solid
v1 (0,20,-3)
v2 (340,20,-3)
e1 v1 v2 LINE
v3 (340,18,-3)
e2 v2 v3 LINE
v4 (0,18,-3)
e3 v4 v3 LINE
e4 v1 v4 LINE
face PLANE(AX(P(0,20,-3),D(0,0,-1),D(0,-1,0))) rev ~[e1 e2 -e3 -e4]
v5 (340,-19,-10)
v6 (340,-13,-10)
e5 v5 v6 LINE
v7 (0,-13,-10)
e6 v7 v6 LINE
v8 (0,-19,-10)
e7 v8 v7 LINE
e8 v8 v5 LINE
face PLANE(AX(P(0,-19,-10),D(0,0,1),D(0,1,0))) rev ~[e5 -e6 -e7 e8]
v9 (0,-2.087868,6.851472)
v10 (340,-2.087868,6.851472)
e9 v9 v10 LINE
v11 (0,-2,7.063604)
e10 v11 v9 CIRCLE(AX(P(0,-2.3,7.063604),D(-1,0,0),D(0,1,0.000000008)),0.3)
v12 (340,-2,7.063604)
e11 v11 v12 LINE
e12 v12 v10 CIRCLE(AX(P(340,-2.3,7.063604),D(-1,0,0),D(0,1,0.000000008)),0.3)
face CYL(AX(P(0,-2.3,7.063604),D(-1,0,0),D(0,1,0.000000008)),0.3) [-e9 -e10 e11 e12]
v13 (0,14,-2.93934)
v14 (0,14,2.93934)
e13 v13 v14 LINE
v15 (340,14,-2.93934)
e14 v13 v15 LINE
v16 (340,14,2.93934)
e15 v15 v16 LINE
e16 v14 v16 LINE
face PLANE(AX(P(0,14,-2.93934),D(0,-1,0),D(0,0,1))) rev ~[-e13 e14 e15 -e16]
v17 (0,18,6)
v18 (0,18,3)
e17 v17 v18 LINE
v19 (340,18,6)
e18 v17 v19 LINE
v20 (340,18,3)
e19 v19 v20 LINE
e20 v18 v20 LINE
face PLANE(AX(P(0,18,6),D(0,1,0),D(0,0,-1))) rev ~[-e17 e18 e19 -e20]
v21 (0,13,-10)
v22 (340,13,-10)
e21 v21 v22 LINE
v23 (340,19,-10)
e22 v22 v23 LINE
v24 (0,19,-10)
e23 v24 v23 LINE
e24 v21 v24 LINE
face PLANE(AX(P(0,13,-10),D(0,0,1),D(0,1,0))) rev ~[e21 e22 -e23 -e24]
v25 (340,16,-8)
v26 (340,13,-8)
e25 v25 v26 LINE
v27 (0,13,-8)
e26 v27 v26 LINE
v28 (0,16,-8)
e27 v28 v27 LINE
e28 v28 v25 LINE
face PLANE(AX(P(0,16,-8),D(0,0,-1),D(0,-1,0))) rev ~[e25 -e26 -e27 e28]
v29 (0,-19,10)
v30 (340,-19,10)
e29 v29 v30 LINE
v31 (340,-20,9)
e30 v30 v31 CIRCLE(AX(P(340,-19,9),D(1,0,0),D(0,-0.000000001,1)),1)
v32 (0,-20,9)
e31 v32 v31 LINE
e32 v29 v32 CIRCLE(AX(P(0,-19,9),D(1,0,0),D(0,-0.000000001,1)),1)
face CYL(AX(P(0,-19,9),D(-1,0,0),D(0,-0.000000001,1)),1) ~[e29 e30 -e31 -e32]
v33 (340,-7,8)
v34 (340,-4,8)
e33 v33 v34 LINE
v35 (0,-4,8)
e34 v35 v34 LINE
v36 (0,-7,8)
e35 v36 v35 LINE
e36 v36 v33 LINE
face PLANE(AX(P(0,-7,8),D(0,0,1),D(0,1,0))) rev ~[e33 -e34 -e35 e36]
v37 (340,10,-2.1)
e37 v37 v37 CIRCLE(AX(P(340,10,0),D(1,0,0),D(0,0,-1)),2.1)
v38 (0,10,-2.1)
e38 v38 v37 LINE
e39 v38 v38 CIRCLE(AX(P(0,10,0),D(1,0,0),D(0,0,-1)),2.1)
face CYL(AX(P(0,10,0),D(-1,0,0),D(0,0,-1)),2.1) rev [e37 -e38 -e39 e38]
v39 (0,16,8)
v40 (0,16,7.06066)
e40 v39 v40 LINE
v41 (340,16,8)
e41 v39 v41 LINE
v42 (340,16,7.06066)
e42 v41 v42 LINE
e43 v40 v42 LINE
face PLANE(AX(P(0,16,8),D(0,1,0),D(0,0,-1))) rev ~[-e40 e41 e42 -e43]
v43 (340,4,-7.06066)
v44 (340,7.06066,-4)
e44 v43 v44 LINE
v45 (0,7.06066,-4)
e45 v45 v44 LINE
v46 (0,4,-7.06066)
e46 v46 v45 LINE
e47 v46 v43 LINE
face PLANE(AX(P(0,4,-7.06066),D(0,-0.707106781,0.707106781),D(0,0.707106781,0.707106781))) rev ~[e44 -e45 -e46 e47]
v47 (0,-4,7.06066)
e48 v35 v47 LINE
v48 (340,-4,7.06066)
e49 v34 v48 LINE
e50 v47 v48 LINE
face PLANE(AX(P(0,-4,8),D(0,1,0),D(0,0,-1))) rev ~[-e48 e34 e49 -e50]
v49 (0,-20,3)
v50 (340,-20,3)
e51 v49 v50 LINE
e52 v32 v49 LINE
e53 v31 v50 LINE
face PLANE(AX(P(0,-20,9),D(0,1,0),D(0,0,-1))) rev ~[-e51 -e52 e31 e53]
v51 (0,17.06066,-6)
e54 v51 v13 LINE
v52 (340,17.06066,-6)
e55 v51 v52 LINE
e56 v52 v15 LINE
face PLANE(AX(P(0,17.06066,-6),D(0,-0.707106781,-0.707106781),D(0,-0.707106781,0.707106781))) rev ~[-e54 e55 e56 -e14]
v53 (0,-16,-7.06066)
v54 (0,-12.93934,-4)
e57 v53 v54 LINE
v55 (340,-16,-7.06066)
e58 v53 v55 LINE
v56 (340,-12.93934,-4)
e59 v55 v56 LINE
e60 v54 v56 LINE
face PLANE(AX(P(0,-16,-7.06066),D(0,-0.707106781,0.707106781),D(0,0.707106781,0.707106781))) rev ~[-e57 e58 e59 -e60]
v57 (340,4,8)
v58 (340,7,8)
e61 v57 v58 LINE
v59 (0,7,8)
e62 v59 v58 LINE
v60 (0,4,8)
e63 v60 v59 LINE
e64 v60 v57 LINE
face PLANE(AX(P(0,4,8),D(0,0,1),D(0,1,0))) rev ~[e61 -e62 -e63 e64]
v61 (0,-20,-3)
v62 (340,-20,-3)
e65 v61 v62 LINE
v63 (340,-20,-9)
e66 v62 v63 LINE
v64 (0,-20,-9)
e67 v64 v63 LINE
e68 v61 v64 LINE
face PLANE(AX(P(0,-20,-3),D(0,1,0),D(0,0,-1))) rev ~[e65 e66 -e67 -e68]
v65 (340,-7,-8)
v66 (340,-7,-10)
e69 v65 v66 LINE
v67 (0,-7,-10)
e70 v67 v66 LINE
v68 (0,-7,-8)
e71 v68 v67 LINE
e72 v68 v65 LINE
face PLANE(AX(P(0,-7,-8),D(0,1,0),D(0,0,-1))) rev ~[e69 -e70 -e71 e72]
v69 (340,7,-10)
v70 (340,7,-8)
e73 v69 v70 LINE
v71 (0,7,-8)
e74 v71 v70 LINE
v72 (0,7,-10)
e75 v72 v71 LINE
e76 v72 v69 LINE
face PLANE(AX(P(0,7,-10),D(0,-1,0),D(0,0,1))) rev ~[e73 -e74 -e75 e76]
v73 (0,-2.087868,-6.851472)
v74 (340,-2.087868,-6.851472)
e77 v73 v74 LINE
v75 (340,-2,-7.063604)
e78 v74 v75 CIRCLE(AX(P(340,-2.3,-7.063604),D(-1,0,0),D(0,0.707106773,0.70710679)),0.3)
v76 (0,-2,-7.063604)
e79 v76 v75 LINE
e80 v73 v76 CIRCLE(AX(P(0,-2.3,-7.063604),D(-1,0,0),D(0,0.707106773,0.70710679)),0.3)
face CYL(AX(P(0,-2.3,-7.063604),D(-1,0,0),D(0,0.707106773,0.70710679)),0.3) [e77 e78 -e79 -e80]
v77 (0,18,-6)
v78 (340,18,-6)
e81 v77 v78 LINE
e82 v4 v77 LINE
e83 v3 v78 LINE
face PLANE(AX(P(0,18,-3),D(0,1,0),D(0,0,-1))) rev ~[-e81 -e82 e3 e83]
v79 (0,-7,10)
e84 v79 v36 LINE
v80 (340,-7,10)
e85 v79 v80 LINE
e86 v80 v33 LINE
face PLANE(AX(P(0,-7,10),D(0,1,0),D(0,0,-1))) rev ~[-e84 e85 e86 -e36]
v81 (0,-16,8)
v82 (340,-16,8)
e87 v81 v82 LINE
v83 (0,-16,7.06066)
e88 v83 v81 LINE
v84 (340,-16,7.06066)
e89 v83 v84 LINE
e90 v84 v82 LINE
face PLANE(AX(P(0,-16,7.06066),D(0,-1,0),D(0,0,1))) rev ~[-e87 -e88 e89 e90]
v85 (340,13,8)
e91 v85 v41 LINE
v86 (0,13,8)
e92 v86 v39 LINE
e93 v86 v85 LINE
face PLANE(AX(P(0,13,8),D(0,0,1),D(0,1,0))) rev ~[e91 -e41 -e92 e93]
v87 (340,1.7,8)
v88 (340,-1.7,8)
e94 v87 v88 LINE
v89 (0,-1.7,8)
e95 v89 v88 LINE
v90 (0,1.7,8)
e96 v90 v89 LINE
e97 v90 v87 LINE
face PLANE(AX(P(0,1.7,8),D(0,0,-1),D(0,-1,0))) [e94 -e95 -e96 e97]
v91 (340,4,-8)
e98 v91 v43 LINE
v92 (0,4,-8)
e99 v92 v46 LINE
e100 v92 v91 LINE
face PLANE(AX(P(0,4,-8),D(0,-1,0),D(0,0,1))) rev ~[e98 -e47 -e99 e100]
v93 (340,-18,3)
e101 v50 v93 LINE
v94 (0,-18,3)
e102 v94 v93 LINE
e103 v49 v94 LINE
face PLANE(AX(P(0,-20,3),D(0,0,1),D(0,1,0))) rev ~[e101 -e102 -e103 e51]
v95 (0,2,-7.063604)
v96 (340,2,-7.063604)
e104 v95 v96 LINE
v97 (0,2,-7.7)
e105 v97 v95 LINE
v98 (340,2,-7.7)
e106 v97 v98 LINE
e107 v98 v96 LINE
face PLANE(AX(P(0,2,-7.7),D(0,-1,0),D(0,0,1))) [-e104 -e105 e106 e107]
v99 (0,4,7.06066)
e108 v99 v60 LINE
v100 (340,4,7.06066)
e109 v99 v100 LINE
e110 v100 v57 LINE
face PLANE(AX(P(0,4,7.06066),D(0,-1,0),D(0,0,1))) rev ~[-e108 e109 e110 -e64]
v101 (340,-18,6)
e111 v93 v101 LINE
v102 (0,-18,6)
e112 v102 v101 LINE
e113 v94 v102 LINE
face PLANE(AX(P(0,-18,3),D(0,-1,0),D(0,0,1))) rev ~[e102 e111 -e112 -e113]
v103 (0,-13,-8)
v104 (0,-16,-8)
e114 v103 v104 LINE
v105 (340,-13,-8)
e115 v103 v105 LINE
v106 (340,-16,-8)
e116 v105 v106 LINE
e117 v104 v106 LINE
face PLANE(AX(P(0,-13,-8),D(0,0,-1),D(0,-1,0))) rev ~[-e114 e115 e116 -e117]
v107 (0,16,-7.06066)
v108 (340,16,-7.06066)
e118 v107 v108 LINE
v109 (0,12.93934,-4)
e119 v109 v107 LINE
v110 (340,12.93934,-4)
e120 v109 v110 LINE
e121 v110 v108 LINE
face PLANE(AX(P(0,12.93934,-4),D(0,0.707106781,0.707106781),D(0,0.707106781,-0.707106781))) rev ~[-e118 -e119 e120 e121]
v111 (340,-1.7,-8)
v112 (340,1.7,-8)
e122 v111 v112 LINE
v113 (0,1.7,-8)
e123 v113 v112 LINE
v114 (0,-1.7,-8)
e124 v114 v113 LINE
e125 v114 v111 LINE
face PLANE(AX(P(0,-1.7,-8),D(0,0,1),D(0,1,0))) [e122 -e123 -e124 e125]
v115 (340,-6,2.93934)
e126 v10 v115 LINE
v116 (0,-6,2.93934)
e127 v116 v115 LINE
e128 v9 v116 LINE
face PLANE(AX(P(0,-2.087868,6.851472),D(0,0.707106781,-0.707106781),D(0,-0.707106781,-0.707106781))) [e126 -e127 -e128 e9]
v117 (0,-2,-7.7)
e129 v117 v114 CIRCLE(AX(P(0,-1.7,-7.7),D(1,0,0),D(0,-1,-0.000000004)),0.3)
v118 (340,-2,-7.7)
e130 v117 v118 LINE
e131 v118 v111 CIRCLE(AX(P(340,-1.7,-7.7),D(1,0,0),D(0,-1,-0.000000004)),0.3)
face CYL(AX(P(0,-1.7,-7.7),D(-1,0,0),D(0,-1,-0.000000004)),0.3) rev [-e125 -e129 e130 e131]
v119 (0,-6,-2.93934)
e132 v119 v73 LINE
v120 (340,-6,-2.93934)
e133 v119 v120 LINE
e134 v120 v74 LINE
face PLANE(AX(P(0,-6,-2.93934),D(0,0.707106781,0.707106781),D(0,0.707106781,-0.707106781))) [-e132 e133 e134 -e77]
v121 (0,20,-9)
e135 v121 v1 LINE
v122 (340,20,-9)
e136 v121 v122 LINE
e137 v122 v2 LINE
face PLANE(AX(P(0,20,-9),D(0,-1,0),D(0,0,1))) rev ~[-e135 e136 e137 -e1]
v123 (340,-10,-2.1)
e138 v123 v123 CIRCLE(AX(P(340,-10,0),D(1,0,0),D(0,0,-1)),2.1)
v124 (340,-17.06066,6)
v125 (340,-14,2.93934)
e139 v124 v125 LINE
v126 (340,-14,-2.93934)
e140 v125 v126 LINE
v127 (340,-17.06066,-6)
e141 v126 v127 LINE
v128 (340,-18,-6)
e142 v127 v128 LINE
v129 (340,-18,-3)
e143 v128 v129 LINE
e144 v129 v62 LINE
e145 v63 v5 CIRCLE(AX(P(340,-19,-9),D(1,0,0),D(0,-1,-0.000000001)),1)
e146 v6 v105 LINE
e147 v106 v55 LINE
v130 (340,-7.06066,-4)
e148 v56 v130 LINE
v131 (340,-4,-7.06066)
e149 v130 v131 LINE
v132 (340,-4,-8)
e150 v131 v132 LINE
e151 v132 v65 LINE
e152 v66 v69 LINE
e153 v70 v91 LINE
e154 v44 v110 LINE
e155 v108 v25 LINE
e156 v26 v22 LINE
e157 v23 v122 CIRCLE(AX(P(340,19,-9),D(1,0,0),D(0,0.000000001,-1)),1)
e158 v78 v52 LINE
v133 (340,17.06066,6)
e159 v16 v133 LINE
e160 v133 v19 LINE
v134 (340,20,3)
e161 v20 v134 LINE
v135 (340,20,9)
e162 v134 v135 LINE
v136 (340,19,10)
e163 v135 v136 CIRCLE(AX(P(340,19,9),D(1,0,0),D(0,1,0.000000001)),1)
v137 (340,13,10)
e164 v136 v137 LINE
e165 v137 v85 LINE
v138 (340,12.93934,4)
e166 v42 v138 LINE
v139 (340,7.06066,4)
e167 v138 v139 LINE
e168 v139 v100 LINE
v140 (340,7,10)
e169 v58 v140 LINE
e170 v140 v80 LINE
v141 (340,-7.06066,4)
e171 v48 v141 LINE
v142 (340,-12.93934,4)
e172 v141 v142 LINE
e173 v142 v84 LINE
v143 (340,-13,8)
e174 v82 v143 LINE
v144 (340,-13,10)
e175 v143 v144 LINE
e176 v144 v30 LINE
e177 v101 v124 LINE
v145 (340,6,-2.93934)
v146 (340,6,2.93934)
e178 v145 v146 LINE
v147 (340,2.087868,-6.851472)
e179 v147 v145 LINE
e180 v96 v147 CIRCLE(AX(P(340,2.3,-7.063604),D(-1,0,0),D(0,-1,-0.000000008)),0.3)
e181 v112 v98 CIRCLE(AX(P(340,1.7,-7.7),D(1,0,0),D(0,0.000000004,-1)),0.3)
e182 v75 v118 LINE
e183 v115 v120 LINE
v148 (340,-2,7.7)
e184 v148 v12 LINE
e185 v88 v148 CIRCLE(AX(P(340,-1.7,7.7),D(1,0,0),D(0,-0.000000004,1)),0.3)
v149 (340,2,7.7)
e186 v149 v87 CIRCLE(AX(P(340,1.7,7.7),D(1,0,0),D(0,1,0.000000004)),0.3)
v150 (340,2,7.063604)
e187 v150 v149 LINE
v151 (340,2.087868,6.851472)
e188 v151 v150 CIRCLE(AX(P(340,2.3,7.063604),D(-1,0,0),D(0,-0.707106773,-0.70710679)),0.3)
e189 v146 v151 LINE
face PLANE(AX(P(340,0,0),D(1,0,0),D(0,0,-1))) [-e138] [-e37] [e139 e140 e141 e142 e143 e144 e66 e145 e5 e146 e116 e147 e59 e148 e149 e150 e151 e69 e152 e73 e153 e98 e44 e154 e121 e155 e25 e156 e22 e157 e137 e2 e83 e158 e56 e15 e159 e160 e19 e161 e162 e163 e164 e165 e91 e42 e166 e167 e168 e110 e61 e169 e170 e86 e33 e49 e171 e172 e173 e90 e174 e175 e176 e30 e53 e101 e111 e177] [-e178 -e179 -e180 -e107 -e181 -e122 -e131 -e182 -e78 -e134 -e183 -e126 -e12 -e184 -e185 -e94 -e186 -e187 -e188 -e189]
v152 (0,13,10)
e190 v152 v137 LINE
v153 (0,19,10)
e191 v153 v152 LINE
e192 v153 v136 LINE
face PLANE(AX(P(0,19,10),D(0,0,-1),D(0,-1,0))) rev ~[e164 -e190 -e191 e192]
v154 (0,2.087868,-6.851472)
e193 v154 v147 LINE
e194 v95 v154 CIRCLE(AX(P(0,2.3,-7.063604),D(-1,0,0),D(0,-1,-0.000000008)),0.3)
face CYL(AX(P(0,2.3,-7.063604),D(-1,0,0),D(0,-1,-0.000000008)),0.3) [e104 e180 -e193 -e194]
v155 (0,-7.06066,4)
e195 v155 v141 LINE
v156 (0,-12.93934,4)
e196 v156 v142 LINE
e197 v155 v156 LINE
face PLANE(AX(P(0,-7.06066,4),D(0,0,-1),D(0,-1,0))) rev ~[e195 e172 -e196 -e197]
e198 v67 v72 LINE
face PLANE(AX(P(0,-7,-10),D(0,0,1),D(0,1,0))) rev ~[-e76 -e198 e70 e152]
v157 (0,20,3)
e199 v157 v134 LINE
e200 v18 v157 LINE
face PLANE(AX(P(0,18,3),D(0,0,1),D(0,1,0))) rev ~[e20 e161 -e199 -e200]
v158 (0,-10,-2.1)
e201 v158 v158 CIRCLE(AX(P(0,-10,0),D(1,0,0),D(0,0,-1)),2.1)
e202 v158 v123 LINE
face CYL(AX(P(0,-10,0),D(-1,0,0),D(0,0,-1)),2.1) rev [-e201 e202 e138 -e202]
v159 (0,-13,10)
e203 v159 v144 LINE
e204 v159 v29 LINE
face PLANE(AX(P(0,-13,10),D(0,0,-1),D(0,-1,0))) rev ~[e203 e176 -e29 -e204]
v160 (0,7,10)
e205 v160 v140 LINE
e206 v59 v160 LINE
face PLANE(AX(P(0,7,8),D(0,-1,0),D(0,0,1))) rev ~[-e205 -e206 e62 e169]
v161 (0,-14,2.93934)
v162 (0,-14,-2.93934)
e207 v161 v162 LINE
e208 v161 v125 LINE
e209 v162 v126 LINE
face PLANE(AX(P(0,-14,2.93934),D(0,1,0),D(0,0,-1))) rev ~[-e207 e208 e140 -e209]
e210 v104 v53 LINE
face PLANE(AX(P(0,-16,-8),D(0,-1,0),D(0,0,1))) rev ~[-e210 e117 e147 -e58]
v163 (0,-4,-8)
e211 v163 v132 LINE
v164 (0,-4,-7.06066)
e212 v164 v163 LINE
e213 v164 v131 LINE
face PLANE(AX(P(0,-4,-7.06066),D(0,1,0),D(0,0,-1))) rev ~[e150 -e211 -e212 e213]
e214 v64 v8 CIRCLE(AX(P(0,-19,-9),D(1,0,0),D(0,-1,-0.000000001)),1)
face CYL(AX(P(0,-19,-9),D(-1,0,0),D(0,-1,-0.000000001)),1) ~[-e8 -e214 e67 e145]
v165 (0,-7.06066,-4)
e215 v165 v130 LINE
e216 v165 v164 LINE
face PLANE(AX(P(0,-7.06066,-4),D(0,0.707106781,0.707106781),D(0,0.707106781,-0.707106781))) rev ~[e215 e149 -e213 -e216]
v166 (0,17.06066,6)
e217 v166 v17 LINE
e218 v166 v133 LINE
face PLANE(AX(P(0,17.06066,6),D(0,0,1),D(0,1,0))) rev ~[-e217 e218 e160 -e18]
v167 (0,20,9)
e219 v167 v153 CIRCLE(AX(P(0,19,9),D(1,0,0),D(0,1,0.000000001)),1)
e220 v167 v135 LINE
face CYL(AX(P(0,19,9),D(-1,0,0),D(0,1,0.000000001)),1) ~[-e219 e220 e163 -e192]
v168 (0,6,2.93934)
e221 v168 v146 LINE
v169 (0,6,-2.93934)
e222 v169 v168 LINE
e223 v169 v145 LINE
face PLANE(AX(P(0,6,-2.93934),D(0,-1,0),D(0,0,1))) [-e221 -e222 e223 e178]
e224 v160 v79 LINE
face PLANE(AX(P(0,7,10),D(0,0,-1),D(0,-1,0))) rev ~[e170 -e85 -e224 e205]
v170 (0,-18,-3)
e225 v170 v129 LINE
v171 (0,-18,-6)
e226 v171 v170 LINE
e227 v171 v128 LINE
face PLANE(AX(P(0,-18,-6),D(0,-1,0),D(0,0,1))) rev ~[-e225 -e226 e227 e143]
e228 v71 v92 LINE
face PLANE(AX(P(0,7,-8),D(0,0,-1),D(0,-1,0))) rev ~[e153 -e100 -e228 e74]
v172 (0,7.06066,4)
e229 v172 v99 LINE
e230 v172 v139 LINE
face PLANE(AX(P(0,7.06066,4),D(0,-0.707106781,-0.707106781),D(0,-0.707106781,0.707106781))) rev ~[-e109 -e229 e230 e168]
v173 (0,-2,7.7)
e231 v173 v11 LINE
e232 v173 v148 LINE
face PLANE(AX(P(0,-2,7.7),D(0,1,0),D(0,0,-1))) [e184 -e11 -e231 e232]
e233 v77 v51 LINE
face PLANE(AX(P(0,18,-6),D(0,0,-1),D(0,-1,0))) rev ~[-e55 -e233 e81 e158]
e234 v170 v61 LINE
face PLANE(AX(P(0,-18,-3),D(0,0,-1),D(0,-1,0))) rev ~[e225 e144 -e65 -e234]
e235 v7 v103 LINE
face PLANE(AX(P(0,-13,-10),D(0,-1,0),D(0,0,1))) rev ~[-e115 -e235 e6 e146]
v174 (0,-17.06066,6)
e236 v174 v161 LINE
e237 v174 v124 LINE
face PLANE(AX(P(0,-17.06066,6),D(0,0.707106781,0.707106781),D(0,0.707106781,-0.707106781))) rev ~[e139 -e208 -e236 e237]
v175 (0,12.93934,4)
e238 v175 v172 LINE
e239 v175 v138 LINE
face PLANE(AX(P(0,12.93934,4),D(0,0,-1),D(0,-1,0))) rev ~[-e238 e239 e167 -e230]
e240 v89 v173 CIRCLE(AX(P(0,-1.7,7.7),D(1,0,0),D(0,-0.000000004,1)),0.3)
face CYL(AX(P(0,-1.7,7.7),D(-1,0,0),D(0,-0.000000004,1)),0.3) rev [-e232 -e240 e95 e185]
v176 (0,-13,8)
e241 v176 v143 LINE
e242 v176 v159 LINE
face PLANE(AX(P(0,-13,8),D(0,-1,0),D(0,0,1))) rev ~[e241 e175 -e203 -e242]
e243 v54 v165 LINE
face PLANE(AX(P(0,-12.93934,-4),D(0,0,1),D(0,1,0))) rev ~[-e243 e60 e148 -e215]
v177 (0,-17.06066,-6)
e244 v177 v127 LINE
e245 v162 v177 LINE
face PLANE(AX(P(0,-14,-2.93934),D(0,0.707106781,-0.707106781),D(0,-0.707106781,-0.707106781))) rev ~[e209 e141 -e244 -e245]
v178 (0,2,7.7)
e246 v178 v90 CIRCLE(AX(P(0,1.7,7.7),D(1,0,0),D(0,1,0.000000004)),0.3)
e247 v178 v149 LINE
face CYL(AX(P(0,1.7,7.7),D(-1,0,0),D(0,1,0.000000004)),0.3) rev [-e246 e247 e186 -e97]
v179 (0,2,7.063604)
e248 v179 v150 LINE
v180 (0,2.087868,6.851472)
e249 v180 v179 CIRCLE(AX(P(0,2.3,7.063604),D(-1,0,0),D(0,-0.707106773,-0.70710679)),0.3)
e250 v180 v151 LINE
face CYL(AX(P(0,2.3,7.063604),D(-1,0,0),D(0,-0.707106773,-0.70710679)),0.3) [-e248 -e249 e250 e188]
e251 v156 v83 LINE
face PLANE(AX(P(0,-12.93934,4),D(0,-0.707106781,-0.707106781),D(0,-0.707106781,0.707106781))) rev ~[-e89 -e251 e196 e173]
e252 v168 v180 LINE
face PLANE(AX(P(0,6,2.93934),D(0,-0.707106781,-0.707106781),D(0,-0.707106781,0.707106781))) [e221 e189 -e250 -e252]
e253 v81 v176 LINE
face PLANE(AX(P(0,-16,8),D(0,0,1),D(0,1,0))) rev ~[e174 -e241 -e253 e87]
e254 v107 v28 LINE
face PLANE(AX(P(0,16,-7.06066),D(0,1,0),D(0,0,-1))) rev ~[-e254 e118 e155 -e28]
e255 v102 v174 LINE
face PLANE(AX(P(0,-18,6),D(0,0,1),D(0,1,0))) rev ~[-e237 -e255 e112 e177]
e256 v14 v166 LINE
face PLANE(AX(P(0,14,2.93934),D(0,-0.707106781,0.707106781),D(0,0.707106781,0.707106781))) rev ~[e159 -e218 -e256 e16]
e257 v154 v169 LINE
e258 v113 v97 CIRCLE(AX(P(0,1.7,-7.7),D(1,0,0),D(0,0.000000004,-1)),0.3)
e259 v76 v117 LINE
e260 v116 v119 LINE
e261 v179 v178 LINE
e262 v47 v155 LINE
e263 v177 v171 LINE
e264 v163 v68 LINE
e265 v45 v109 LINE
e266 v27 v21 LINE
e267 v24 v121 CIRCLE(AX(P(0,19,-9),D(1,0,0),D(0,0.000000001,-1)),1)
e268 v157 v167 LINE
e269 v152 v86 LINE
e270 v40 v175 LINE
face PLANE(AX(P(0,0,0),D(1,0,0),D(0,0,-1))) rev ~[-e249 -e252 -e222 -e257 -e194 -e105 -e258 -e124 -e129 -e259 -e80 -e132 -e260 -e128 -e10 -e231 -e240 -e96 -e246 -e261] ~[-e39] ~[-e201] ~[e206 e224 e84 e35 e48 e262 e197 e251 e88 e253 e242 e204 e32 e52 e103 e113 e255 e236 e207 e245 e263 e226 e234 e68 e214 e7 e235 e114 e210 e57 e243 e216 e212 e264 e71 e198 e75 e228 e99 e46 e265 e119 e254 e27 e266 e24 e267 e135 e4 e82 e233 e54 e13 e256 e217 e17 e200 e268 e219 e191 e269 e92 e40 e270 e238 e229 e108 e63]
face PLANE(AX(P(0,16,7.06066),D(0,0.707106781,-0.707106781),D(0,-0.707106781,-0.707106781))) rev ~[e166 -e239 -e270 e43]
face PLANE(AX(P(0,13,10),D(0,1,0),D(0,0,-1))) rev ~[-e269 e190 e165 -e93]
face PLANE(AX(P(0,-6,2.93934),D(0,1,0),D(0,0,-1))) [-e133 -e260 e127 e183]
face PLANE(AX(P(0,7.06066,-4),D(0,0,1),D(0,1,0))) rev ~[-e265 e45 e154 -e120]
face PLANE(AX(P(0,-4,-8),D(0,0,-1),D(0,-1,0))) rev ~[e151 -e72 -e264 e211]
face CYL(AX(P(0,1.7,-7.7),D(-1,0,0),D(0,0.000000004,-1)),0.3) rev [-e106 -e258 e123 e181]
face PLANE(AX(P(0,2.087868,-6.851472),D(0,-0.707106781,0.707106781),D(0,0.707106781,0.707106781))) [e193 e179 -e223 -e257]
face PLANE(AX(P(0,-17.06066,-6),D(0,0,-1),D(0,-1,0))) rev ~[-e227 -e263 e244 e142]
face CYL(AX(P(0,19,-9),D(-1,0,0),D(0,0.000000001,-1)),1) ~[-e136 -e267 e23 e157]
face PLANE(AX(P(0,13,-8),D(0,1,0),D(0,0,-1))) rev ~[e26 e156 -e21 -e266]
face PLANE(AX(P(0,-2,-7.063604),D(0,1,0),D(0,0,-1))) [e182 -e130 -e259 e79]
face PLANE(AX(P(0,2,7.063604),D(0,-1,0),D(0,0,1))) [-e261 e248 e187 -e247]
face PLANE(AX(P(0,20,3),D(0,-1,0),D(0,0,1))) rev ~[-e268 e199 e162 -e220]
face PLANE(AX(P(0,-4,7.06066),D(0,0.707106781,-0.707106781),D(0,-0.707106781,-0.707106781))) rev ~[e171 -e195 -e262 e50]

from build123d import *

# Parameters (mm, degrees)
SKETCH1_R           = 2.1
BOSS_EXTRUDE1_DEPTH = 340


with BuildPart() as part:
    # Sketch1 → Boss-Extrude1 (new body)
    with BuildSketch(Plane(origin=(0, 0, 0), x_dir=(0, 0, -1), z_dir=(1, 0, 0))):
        with BuildLine():
            Line((-10, -13), (-10, -19))
            ThreePointArc((-10, -19), (-9.707106781, -19.707106781), (-9, -20))
            Line((-9, -20), (-3, -20))
            Line((-3, -20), (-3, -18))
            Line((-3, -18), (-6, -18))
            Line((-6, -18), (-6, -17.060660172))
            Line((-6, -17.060660172), (-2.939339828, -14))
            Line((-2.939339828, -14), (2.939339828, -14))
            Line((2.939339828, -14), (6, -17.060660172))
            Line((6, -17.060660172), (6, -18))
            Line((6, -18), (3, -18))
            Line((3, -18), (3, -20))
            Line((3, -20), (9, -20))
            ThreePointArc((9, -20), (9.707106781, -19.707106781), (10, -19))
            Line((10, -19), (10, -13))
            Line((10, -13), (8, -13))
            Line((8, -13), (8, -16))
            Line((8, -16), (7.060660172, -16))
            Line((7.060660172, -16), (4, -12.939339828))
            Line((4, -12.939339828), (4, -7.060660172))
            Line((4, -7.060660172), (7.060660172, -4))
            Line((7.060660172, -4), (8, -4))
            Line((8, -4), (8, -7))
            Line((8, -7), (10, -7))
            Line((10, -7), (10, 7))
            Line((10, 7), (8, 7))
            Line((8, 7), (8, 4))
            Line((8, 4), (7.060660172, 4))
            Line((7.060660172, 4), (4, 7.060660172))
            Line((4, 7.060660172), (4, 12.939339828))
            Line((4, 12.939339828), (7.060660172, 16))
            Line((7.060660172, 16), (8, 16))
            Line((8, 16), (8, 13))
            Line((8, 13), (10, 13))
            Line((10, 13), (10, 19))
            ThreePointArc((10, 19), (9.707106781, 19.707106781), (9, 20))
            Line((9, 20), (3, 20))
            Line((3, 20), (3, 18))
            Line((3, 18), (6, 18))
            Line((6, 18), (6, 17.060660172))
            Line((6, 17.060660172), (2.939339828, 14))
            Line((2.939339828, 14), (-2.939339828, 14))
            Line((-2.939339828, 14), (-6, 17.060660172))
            Line((-6, 17.060660172), (-6, 18))
            Line((-6, 18), (-3, 18))
            Line((-3, 18), (-3, 20))
            Line((-3, 20), (-9, 20))
            ThreePointArc((-9, 20), (-9.707106781, 19.707106781), (-10, 19))
            Line((-10, 19), (-10, 13))
            Line((-10, 13), (-8, 13))
            Line((-8, 13), (-8, 16))
            Line((-8, 16), (-7.060660172, 16))
            Line((-7.060660172, 16), (-4, 12.939339828))
            Line((-4, 12.939339828), (-4, 7.060660172))
            Line((-4, 7.060660172), (-7.060660172, 4))
            Line((-7.060660172, 4), (-8, 4))
            Line((-8, 4), (-8, 7))
            Line((-8, 7), (-10, 7))
            Line((-10, 7), (-10, -7))
            Line((-10, -7), (-8, -7))
            Line((-8, -7), (-8, -4))
            Line((-8, -4), (-7.060660172, -4))
            Line((-7.060660172, -4), (-4, -7.060660172))
            Line((-4, -7.060660172), (-4, -12.939339828))
            Line((-4, -12.939339828), (-7.060660172, -16))
            Line((-7.060660172, -16), (-8, -16))
            Line((-8, -16), (-8, -13))
            Line((-8, -13), (-10, -13))
        make_face()
        with Locations((0, 10)):
            Circle(SKETCH1_R, mode=Mode.SUBTRACT)
        with Locations((0, -10)):
            Circle(SKETCH1_R, mode=Mode.SUBTRACT)
        with BuildLine():
            Line((-8, 1.7), (-8, -1.7))
            ThreePointArc((-8, -1.7), (-7.912132034, -1.912132034), (-7.7, -2))
            Line((-7.7, -2), (-7.063603897, -2))
            ThreePointArc((-7.063603897, -2), (-6.948798867, -2.02283614), (-6.851471863, -2.087867966))
            Line((-6.851471863, -2.087867966), (-2.939339828, -6))
            Line((-2.939339828, -6), (2.939339828, -6))
            Line((2.939339828, -6), (6.851471863, -2.087867966))
            ThreePointArc((6.851471863, -2.087867966), (6.948798867, -2.02283614), (7.063603897, -2))
            Line((7.063603897, -2), (7.7, -2))
            ThreePointArc((7.7, -2), (7.912132034, -1.912132034), (8, -1.7))
            Line((8, -1.7), (8, 1.7))
            ThreePointArc((8, 1.7), (7.912132034, 1.912132034), (7.7, 2))
            Line((7.7, 2), (7.063603897, 2))
            ThreePointArc((7.063603897, 2), (6.948798867, 2.02283614), (6.851471863, 2.087867966))
            Line((6.851471863, 2.087867966), (2.939339828, 6))
            Line((2.939339828, 6), (-2.939339828, 6))
            Line((-2.939339828, 6), (-6.851471863, 2.087867966))
            ThreePointArc((-6.851471863, 2.087867966), (-6.948798867, 2.02283614), (-7.063603897, 2))
            Line((-7.063603897, 2), (-7.7, 2))
            ThreePointArc((-7.7, 2), (-7.912132034, 1.912132034), (-8, 1.7))
        make_face(mode=Mode.SUBTRACT)
    extrude(amount=BOSS_EXTRUDE1_DEPTH)


solid = part.part
